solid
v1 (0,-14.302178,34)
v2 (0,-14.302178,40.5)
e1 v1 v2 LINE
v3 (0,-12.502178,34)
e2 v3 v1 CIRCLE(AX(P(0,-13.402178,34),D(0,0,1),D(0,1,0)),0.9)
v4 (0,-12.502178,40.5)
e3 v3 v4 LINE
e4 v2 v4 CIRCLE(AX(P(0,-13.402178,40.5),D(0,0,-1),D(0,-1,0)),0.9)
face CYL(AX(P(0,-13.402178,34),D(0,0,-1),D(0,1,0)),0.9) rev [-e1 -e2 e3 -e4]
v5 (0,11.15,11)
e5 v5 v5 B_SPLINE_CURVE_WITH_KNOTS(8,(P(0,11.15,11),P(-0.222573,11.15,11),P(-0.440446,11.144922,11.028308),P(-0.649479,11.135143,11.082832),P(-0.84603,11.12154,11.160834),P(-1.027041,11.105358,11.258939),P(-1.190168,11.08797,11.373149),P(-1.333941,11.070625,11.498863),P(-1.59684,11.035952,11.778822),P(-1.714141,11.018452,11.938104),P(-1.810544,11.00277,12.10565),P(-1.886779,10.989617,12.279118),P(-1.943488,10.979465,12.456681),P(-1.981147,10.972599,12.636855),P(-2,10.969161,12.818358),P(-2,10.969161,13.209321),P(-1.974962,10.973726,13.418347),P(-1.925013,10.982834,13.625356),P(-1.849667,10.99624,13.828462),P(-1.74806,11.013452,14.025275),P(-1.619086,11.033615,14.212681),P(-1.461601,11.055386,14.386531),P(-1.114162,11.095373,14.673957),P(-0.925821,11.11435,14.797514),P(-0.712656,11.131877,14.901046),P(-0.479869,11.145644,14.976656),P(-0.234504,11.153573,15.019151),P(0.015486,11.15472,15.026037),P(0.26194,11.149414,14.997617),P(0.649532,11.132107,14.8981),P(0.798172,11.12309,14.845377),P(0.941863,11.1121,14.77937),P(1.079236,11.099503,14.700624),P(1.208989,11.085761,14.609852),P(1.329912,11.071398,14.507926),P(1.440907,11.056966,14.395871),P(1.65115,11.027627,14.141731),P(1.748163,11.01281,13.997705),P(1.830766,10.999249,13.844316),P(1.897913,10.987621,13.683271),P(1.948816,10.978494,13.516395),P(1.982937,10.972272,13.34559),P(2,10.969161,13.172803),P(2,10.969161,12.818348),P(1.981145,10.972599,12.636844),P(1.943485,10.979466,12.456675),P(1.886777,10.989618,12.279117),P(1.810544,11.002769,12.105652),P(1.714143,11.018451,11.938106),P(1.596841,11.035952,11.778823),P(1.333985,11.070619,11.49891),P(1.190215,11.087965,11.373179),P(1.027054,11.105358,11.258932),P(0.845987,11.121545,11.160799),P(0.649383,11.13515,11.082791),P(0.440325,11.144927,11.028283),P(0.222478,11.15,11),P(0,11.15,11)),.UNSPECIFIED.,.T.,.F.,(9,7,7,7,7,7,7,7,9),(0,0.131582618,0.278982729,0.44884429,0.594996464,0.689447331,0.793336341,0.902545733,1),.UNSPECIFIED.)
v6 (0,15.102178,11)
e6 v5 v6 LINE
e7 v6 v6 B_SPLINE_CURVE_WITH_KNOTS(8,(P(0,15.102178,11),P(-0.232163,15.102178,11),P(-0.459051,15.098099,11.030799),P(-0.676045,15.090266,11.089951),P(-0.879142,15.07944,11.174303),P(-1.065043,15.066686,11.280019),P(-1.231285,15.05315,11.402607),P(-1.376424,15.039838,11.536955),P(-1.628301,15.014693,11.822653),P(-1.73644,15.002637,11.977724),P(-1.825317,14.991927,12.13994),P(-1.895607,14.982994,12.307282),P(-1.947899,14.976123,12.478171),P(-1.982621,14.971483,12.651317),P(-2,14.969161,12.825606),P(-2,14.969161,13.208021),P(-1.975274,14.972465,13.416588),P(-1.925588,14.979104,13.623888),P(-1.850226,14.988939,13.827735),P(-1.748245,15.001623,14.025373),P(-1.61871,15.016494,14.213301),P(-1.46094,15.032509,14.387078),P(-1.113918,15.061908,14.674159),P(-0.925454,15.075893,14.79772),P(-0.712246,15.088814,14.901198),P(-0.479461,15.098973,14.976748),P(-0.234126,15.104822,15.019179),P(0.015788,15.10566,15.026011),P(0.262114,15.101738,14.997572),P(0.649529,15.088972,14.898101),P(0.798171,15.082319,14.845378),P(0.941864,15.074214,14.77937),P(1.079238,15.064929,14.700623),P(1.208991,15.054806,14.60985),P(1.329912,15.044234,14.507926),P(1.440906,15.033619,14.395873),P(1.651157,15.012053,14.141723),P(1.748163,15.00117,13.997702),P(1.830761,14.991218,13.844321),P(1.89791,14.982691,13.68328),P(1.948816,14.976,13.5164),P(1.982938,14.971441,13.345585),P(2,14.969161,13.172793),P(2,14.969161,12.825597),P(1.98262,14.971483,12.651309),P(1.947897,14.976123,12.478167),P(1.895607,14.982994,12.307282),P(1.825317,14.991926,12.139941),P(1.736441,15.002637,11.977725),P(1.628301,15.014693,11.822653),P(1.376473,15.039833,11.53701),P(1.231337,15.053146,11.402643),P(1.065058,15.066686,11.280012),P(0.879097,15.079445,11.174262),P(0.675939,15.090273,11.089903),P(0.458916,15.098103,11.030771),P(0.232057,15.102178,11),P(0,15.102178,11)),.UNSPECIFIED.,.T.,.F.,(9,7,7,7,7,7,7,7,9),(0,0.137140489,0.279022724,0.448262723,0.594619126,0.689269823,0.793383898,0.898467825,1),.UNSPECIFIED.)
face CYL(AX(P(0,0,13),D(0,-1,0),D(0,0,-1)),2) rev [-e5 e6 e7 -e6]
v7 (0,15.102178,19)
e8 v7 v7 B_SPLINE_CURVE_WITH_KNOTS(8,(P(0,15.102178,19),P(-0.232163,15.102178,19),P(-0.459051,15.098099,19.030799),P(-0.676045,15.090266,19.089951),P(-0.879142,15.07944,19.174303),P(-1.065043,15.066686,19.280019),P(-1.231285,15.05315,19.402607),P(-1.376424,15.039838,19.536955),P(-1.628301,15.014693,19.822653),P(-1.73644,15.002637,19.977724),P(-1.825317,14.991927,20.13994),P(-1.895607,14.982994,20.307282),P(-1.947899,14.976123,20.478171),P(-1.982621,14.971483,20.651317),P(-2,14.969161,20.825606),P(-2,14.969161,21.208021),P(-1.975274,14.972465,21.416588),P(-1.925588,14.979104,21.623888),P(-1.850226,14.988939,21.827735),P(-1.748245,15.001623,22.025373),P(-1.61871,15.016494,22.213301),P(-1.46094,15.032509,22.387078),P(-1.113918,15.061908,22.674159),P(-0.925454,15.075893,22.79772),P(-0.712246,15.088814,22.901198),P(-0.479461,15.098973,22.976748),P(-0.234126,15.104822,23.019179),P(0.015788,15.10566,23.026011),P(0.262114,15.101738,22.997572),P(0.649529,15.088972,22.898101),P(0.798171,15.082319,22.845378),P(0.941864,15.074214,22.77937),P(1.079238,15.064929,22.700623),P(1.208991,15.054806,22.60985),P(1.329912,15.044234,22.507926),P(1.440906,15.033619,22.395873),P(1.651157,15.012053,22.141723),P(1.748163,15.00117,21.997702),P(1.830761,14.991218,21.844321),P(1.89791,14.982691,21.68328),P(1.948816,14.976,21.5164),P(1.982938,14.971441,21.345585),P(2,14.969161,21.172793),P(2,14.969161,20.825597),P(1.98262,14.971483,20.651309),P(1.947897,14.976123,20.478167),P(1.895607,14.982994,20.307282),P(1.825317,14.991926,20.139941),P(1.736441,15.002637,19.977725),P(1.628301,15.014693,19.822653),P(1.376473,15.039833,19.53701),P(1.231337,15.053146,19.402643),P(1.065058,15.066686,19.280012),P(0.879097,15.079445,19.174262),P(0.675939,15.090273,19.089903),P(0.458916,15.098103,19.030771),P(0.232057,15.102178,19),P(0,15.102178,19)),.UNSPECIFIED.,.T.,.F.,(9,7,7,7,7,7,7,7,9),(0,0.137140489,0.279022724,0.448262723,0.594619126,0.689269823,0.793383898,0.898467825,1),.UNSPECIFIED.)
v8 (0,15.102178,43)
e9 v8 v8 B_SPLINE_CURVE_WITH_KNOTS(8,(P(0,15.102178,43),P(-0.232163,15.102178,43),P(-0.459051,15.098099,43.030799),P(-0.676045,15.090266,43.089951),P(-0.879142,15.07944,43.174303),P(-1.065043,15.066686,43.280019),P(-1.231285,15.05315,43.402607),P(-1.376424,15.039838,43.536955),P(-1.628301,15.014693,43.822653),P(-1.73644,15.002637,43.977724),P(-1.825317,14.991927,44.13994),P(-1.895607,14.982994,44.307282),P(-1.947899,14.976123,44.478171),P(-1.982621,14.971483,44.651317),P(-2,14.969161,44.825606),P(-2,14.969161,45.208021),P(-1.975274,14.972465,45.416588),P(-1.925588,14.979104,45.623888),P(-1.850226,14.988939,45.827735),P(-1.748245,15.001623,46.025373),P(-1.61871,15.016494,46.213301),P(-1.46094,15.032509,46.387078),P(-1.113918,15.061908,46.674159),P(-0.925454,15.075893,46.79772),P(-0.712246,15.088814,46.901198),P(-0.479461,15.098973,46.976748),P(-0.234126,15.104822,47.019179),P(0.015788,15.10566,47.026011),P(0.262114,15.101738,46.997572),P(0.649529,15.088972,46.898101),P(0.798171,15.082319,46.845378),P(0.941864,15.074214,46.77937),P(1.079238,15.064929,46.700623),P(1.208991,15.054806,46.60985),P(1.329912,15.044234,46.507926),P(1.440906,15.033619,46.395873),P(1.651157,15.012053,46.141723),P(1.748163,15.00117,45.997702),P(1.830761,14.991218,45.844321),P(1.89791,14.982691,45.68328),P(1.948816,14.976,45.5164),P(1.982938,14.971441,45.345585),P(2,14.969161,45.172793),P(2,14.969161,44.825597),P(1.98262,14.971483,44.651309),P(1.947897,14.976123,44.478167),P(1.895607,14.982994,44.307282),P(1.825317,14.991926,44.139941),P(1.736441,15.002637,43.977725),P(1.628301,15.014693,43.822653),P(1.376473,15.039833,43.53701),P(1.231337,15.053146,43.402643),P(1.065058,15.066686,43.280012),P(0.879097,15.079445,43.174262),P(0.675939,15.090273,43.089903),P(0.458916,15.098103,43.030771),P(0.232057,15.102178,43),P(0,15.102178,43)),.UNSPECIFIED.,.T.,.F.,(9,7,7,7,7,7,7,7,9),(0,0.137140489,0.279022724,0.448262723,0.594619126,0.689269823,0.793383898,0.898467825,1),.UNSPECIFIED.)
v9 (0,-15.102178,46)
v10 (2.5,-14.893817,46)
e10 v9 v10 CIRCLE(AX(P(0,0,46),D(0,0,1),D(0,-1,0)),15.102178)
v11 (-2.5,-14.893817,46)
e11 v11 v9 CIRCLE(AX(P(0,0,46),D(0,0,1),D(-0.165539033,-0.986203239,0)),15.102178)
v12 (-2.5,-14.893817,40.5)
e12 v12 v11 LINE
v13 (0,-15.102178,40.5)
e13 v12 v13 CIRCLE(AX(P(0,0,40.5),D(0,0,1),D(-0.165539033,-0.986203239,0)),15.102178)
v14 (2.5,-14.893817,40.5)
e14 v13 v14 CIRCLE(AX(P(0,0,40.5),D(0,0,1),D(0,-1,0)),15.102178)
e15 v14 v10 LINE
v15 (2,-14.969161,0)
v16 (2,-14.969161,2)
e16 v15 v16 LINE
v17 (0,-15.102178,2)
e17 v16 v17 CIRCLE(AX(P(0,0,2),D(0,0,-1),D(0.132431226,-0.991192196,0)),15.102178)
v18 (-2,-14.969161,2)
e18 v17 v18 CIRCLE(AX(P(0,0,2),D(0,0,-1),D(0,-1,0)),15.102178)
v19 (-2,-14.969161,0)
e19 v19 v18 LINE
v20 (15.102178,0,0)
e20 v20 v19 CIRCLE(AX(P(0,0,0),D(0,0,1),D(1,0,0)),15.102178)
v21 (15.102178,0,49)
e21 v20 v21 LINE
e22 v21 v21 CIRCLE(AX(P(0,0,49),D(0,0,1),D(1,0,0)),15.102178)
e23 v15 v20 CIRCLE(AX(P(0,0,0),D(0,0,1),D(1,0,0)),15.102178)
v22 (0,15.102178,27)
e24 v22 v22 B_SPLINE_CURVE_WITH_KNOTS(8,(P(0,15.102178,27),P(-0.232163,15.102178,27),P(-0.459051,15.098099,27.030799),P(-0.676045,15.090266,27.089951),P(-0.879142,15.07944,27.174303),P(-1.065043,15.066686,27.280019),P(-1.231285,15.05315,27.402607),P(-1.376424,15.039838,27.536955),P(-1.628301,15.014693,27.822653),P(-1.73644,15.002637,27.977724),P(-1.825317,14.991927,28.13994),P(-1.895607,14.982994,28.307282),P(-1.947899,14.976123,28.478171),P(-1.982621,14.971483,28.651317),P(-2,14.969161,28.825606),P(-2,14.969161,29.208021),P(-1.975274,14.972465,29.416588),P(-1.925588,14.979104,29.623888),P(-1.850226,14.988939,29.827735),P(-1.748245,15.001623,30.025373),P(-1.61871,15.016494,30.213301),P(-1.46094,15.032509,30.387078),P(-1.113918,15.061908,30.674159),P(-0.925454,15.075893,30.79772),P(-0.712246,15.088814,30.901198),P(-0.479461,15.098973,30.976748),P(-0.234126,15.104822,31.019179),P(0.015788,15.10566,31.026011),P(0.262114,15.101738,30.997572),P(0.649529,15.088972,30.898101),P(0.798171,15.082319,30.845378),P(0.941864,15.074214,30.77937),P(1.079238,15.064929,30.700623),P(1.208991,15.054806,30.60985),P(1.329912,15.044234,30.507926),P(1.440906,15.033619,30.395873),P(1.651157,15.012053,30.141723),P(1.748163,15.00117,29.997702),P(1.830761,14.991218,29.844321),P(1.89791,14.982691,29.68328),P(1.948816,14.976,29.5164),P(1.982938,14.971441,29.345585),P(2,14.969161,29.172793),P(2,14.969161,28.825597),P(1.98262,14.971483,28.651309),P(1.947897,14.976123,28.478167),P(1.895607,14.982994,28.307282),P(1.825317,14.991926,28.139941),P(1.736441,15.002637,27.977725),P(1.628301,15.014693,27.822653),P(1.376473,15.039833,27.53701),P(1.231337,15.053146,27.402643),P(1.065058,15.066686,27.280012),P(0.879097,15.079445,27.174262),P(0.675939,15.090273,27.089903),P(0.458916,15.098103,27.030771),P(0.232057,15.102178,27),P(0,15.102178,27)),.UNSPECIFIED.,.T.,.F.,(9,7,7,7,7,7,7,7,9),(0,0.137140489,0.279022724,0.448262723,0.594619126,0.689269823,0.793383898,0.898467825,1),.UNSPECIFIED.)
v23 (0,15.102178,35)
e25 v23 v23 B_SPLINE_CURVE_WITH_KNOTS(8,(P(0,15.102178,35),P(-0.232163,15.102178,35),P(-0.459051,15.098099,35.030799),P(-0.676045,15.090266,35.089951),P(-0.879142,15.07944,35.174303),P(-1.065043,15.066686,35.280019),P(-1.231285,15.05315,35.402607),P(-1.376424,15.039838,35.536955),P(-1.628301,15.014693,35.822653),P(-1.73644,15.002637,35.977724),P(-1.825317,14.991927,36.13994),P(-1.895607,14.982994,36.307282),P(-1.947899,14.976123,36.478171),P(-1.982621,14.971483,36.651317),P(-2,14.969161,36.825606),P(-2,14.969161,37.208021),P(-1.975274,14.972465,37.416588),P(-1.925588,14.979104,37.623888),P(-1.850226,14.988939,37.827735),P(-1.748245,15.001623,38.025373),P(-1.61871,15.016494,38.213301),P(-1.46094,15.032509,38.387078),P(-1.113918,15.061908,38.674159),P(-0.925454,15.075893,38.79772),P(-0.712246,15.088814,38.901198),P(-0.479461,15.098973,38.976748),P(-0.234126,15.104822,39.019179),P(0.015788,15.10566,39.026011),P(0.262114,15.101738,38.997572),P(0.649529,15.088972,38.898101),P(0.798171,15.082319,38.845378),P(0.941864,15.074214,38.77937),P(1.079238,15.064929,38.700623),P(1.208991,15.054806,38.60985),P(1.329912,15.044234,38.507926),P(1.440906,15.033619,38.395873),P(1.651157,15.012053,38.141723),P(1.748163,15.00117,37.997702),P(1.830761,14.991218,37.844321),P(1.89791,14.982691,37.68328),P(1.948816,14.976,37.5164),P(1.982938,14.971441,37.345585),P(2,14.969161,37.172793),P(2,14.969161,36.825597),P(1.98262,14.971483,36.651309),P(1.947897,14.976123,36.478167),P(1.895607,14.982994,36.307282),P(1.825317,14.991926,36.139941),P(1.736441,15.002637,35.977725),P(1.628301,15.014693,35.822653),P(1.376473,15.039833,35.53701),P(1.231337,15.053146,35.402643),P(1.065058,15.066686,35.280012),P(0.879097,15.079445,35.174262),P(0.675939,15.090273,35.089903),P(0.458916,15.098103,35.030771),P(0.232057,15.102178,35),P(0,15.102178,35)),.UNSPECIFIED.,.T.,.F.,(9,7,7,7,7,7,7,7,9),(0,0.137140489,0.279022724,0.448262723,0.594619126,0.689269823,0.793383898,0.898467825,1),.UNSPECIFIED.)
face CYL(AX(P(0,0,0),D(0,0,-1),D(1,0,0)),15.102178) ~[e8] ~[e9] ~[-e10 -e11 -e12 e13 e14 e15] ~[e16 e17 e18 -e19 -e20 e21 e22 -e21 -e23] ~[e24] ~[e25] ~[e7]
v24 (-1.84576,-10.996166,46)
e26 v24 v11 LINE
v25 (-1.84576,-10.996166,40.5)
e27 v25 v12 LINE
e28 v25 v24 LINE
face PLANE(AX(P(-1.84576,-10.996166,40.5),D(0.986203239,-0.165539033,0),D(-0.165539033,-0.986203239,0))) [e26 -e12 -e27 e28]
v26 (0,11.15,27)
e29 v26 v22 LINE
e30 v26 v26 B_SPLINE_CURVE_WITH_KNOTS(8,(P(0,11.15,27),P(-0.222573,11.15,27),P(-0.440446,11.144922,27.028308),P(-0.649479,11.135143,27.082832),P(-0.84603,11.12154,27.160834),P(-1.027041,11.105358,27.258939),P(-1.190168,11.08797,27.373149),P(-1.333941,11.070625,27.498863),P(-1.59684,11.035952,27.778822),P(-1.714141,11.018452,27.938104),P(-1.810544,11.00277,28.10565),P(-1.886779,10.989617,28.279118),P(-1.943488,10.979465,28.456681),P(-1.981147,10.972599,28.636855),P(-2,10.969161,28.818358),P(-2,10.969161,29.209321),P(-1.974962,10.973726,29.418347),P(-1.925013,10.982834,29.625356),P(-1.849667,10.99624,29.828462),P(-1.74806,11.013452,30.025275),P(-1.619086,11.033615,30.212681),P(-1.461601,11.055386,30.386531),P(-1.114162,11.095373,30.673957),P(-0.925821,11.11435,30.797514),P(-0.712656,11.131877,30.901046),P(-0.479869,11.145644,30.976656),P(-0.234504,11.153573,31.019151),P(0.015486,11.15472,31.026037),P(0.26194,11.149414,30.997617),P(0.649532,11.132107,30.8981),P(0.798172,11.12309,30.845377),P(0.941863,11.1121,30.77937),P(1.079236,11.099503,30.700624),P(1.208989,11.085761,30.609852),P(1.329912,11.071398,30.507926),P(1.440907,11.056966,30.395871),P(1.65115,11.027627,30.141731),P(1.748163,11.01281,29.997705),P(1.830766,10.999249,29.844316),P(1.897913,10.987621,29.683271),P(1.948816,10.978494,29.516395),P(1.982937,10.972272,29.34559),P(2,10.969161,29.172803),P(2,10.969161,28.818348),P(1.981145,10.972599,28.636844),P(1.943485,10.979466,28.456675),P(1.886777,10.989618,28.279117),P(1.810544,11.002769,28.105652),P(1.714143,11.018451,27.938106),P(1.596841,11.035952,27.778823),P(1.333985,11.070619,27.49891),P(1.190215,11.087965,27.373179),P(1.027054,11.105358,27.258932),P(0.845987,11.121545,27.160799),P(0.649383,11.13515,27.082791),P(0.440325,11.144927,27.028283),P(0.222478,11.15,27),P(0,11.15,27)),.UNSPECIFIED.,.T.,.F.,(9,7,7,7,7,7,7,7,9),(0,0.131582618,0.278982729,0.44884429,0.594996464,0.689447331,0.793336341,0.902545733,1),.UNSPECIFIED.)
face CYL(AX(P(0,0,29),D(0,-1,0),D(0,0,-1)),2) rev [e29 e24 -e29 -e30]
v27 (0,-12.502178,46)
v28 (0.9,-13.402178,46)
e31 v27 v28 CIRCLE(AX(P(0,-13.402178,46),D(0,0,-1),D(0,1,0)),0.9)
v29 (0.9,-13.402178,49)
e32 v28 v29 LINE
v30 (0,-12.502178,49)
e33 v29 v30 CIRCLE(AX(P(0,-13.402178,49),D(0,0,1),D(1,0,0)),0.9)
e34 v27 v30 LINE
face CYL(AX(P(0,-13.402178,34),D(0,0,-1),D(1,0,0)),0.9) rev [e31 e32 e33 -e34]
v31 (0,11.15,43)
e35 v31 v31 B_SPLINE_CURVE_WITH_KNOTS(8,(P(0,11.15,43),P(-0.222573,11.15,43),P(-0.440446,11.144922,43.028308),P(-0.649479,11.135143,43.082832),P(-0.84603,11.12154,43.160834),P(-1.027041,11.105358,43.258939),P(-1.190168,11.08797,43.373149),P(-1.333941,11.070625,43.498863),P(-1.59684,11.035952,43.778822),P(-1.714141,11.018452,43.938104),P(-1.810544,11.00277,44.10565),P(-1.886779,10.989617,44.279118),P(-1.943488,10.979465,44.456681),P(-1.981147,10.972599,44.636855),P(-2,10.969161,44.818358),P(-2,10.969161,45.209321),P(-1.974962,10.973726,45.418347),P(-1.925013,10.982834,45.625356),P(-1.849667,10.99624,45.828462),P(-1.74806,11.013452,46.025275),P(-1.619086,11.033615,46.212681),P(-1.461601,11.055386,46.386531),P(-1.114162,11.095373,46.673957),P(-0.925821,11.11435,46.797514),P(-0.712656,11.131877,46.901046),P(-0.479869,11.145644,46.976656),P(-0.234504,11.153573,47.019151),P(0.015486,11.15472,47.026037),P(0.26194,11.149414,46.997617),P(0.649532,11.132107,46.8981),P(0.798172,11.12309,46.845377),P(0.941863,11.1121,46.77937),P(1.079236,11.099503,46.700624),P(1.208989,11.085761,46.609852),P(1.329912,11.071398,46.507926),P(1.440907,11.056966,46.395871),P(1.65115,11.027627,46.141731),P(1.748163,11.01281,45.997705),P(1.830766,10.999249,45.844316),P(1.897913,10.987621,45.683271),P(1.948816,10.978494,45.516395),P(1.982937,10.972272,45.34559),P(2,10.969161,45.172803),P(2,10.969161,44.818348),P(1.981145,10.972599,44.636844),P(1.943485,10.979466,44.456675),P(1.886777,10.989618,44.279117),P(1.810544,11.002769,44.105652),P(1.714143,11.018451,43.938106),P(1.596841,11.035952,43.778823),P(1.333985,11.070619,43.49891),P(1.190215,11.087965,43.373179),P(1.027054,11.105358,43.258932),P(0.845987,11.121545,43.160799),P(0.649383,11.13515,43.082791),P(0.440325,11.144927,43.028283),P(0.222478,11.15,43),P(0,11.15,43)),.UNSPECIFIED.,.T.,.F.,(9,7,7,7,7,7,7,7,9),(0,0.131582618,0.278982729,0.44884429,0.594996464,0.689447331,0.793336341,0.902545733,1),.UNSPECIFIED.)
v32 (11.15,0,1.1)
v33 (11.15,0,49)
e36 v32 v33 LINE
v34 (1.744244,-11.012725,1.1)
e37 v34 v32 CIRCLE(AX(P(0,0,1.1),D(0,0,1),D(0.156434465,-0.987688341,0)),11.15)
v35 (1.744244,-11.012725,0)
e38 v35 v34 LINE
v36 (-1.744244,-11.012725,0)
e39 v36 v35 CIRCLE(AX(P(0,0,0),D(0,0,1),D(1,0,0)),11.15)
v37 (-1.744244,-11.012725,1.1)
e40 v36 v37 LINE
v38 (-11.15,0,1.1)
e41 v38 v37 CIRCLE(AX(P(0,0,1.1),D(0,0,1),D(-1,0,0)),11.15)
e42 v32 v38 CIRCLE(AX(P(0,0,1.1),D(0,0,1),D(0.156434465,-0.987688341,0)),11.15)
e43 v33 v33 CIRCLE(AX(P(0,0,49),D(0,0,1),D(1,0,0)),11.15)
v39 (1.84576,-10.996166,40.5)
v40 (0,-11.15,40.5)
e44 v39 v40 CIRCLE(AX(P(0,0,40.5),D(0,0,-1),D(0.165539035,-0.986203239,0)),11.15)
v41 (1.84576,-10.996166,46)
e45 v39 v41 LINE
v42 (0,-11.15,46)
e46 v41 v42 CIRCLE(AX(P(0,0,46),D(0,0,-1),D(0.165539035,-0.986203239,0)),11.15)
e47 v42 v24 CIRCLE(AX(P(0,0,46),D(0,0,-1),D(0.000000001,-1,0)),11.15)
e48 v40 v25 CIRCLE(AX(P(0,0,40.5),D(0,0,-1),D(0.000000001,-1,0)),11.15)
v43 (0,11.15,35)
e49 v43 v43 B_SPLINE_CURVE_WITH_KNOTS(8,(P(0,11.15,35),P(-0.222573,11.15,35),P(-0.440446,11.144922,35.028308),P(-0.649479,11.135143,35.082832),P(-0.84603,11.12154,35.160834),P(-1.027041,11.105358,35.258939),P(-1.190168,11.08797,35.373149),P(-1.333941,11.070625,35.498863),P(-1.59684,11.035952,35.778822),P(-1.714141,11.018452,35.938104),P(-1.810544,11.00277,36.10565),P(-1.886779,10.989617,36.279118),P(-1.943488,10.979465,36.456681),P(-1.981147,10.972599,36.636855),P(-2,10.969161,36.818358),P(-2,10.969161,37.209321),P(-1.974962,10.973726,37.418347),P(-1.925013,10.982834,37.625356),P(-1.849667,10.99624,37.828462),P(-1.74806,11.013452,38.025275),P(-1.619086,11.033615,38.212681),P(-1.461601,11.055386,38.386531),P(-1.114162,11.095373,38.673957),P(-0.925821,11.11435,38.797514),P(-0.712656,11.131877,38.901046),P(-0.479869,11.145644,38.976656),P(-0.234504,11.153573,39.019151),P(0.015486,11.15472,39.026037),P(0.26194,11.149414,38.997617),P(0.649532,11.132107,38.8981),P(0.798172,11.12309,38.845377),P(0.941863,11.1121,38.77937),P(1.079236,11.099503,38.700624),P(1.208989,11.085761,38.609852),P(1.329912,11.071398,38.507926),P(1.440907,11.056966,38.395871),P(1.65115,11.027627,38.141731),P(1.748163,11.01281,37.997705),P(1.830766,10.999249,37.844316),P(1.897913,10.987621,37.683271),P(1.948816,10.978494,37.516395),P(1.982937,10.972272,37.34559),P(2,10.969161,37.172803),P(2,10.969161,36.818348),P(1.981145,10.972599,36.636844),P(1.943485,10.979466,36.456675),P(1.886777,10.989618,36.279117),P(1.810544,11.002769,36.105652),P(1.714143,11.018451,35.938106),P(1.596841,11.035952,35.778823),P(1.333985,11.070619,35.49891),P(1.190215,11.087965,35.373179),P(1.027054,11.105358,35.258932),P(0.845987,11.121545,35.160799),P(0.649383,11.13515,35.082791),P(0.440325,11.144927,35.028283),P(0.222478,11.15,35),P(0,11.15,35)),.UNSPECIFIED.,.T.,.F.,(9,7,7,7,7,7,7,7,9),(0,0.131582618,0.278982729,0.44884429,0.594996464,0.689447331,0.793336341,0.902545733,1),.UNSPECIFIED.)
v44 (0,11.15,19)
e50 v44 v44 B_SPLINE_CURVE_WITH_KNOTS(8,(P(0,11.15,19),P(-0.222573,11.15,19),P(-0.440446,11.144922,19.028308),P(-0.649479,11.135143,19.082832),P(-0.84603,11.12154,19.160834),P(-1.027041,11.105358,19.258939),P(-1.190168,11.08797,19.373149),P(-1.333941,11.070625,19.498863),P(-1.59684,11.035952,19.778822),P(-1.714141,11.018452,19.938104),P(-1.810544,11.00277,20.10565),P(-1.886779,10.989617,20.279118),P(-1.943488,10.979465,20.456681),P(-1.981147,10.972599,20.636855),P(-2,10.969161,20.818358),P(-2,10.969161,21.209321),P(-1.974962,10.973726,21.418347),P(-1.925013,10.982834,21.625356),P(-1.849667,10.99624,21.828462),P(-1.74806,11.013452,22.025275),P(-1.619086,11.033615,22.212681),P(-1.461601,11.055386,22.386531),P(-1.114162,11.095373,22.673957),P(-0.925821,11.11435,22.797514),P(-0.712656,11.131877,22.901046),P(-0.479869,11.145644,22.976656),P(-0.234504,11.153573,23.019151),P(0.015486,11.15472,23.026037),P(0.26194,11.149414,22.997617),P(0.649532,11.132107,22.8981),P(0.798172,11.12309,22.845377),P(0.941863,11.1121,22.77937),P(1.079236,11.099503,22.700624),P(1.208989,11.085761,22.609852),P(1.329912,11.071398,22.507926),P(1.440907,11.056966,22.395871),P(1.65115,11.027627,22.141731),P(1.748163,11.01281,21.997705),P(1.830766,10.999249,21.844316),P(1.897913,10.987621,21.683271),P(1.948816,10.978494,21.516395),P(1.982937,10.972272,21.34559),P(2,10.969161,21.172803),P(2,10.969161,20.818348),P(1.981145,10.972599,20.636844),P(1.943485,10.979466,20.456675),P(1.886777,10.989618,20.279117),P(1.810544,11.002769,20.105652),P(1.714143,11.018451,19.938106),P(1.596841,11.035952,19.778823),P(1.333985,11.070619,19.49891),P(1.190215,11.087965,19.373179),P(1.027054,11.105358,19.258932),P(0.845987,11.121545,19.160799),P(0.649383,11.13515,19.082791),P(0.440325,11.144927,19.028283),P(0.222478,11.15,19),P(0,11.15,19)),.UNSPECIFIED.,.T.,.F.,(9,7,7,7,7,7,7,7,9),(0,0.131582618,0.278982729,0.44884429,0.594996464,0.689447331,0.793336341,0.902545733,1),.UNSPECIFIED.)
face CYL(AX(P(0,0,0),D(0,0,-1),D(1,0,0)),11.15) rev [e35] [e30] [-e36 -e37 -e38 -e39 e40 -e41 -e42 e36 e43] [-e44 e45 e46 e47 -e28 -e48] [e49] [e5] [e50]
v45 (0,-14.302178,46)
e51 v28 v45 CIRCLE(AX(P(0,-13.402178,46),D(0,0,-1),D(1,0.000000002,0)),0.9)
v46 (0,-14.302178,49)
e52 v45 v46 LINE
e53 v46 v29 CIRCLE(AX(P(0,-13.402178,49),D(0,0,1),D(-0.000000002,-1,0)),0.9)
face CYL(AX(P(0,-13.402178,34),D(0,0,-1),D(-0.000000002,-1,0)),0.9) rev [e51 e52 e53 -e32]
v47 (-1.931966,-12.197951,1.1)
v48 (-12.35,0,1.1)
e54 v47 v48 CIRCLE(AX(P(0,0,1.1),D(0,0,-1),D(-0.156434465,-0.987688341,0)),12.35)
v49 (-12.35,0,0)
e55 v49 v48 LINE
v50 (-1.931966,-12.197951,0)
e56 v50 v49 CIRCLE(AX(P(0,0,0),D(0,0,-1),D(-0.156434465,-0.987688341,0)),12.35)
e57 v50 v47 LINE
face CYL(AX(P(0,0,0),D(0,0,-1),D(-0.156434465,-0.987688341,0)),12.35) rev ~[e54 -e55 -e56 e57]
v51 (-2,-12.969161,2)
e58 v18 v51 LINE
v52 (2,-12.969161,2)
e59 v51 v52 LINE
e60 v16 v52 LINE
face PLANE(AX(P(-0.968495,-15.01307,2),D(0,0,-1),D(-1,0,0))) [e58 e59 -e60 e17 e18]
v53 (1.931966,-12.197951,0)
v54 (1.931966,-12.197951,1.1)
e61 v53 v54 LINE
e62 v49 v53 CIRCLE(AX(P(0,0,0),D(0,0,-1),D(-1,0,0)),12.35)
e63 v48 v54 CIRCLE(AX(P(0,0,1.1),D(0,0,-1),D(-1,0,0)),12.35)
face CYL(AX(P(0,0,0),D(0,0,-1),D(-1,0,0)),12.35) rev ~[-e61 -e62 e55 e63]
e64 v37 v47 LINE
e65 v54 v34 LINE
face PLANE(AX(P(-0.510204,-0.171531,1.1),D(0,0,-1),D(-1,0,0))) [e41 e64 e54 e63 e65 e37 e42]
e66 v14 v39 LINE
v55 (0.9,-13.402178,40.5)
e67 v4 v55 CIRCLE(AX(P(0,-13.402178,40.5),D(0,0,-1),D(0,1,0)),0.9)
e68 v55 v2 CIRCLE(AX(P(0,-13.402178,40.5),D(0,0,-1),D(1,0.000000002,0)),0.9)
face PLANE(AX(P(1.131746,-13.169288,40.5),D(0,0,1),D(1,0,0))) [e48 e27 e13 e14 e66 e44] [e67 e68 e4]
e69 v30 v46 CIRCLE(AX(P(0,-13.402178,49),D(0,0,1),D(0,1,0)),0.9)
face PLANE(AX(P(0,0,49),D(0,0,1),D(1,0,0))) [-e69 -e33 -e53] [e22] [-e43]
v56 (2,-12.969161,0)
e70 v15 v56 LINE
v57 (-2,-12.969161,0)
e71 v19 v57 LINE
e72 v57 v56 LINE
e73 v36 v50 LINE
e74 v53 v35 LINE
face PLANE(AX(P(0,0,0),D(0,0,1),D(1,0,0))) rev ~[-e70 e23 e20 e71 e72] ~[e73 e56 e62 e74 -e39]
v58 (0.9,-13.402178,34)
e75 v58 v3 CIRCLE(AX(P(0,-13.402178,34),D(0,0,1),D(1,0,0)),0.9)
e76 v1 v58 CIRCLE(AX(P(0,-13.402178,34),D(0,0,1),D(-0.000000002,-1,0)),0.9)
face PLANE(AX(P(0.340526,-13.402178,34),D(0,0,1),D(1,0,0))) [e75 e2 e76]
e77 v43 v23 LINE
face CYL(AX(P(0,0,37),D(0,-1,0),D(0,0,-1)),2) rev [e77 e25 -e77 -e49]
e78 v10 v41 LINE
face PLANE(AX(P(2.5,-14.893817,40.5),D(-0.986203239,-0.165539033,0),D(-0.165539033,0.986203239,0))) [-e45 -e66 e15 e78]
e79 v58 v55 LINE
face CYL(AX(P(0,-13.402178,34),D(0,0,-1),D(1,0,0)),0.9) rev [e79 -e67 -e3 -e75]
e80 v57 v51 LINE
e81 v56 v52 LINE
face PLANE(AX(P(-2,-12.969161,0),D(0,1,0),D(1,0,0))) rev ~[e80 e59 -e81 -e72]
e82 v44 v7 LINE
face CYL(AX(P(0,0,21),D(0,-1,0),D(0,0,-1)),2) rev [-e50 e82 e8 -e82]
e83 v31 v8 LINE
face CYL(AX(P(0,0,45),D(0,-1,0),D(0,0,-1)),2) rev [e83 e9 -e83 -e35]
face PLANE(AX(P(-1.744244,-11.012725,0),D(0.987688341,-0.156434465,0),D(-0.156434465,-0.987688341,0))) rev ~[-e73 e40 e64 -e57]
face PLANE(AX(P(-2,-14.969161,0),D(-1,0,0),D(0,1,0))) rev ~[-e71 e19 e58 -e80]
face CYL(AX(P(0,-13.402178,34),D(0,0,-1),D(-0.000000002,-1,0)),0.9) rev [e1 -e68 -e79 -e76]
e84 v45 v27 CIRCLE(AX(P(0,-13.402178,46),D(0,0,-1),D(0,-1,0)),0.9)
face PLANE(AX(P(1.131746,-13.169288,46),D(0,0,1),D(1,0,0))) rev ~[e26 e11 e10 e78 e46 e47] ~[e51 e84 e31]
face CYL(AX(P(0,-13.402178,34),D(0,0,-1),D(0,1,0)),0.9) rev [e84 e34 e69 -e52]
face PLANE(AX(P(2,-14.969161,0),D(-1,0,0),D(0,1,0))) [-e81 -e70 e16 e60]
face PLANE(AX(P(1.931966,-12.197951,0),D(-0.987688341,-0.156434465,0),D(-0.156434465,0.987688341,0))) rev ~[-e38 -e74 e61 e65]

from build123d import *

# Parameters (mm, degrees)
SKETCH1_R           = 15.102178337
SKETCH1_R_2         = 11.15
BOSS_EXTRUDE1_DEPTH = 49
SKETCH2_W           = 2
SKETCH2_H           = 2
CUT_EXTRUDE1_DEPTH  = 2
CUT_EXTRUDE2_DEPTH  = 1.1
SKETCH7_R           = 2
PIN_HOLE_DEPTH      = 54.452329987
CUT_EXTRUDE4_START  = -8.5
CUT_EXTRUDE4_DEPTH  = 5.5
CUT_EXTRUDE5_START  = -15
CUT_EXTRUDE5_DEPTH  = 15


with BuildPart() as part:
    # Sketch1 → Boss-Extrude1 (new body)
    with BuildSketch(Plane.XY):
        Circle(SKETCH1_R)
        Circle(SKETCH1_R_2, mode=Mode.SUBTRACT)
    extrude(amount=BOSS_EXTRUDE1_DEPTH)

    # Sketch2 → Cut-Extrude1 (cut)
    with BuildSketch(Plane(origin=(0, 0, 0), x_dir=(-1, 0, 0), z_dir=(0, 0, -1))):
        with BuildLine():
            Line((2, -14.969161317), (0, -14.969161317))
            Line((0, -14.969161317), (0, -15.102178337))
            ThreePointArc((0, -15.102178337), (1.002209251, -15.068887389), (2, -14.969161317))
        make_face()
        with BuildLine():
            Line((0, -15.102178337), (0, -14.969161317))
            Line((0, -14.969161317), (-2, -14.969161317))
            ThreePointArc((-2, -14.969161317), (-1.002209251, -15.068887389), (0, -15.102178337))
        make_face()
        with Locations((1, -13.969161317)):
            Rectangle(SKETCH2_W, SKETCH2_H)
        with Locations((-1, -13.969161317)):
            Rectangle(SKETCH2_W, SKETCH2_H)
    extrude(amount=-CUT_EXTRUDE1_DEPTH, mode=Mode.SUBTRACT)

    # Sketch6 → Cut-Extrude2 (cut)
    with BuildSketch(Plane(origin=(0, 0, 0), x_dir=(-1, 0, 0), z_dir=(0, 0, -1))):
        with BuildLine():
            Line((-1.931965643, -12.197951006), (-1.744244285, -11.012724998))
            ThreePointArc((-1.744244285, -11.012724998), (-7.241345739, 8.478526516), (11.15, 0))
            ThreePointArc((11.15, 0), (8.478526516, -7.241345739), (1.744244285, -11.012724998))
            Line((1.744244285, -11.012724998), (1.931965643, -12.197951006))
            ThreePointArc((1.931965643, -12.197951006), (9.391013675, -8.020683397), (12.35, 0))
            ThreePointArc((12.35, 0), (-8.020683397, 9.391013675), (-1.931965643, -12.197951006))
        make_face()
    extrude(amount=-CUT_EXTRUDE2_DEPTH, mode=Mode.SUBTRACT)

    # Sketch7 → Pin hole (cut, through all)
    with BuildSketch(Plane(origin=(0, 0, 0), x_dir=(1, 0, 0), z_dir=(0, 1, 0))):
        with Locations(Location((0, -13, 0), (0, 0, 90))):
            Circle(SKETCH7_R)
        with Locations(Location((0, -21, 0), (0, 0, 90))):
            Circle(SKETCH7_R)
        with Locations(Location((0, -29, 0), (0, 0, 90))):
            Circle(SKETCH7_R)
        with Locations(Location((0, -37, 0), (0, 0, 90))):
            Circle(SKETCH7_R)
        with Locations(Location((0, -45, 0), (0, 0, 90))):
            Circle(SKETCH7_R)
    extrude(amount=PIN_HOLE_DEPTH, mode=Mode.SUBTRACT)

    # Sketch8 → Cut-Extrude4 (cut)
    with BuildSketch(Plane.XY.offset(49).offset(CUT_EXTRUDE4_START)):
        with BuildLine():
            Line((2.5, -14.893817192), (1.845760219, -10.996166114))
            ThreePointArc((1.845760219, -10.996166114), (0.926079863, -11.111474974), (0, -11.15))
            Line((0, -11.15), (0, -12.502178337))
            ThreePointArc((0, -12.502178337), (0.636396103, -12.765782234), (0.9, -13.402178337))
            ThreePointArc((0.9, -13.402178337), (0.636396103, -14.038574441), (0, -14.302178337))
            Line((0, -14.302178337), (0, -15.102178337))
            ThreePointArc((0, -15.102178337), (1.254333924, -15.049997905), (2.5, -14.893817192))
        make_face()
        with BuildLine():
            ThreePointArc((0, -11.15), (-0.926079863, -11.111474974), (-1.845760219, -10.996166114))
            Line((-1.845760219, -10.996166114), (-2.5, -14.893817192))
            ThreePointArc((-2.5, -14.893817192), (-1.254333924, -15.049997905), (0, -15.102178337))
            Line((0, -15.102178337), (0, -14.302178337))
            ThreePointArc((0, -14.302178337), (-0.9, -13.402178337), (0, -12.502178337))
            Line((0, -12.502178337), (0, -11.15))
        make_face()
    extrude(amount=CUT_EXTRUDE4_DEPTH, mode=Mode.SUBTRACT)

    # Sketch8<3> → Cut-Extrude5 (cut)
    with BuildSketch(Plane.XY.offset(49).offset(CUT_EXTRUDE5_START)):
        with BuildLine():
            ThreePointArc((0.9, -13.402178337), (0.636396103, -12.765782234), (0, -12.502178337))
            Line((0, -12.502178337), (0, -14.302178337))
            ThreePointArc((0, -14.302178337), (0.636396103, -14.038574441), (0.9, -13.402178337))
        make_face()
        with BuildLine():
            Line((0, -14.302178337), (0, -12.502178337))
            ThreePointArc((0, -12.502178337), (-0.9, -13.402178337), (0, -14.302178337))
        make_face()
    extrude(amount=CUT_EXTRUDE5_DEPTH, mode=Mode.SUBTRACT)


solid = part.part
